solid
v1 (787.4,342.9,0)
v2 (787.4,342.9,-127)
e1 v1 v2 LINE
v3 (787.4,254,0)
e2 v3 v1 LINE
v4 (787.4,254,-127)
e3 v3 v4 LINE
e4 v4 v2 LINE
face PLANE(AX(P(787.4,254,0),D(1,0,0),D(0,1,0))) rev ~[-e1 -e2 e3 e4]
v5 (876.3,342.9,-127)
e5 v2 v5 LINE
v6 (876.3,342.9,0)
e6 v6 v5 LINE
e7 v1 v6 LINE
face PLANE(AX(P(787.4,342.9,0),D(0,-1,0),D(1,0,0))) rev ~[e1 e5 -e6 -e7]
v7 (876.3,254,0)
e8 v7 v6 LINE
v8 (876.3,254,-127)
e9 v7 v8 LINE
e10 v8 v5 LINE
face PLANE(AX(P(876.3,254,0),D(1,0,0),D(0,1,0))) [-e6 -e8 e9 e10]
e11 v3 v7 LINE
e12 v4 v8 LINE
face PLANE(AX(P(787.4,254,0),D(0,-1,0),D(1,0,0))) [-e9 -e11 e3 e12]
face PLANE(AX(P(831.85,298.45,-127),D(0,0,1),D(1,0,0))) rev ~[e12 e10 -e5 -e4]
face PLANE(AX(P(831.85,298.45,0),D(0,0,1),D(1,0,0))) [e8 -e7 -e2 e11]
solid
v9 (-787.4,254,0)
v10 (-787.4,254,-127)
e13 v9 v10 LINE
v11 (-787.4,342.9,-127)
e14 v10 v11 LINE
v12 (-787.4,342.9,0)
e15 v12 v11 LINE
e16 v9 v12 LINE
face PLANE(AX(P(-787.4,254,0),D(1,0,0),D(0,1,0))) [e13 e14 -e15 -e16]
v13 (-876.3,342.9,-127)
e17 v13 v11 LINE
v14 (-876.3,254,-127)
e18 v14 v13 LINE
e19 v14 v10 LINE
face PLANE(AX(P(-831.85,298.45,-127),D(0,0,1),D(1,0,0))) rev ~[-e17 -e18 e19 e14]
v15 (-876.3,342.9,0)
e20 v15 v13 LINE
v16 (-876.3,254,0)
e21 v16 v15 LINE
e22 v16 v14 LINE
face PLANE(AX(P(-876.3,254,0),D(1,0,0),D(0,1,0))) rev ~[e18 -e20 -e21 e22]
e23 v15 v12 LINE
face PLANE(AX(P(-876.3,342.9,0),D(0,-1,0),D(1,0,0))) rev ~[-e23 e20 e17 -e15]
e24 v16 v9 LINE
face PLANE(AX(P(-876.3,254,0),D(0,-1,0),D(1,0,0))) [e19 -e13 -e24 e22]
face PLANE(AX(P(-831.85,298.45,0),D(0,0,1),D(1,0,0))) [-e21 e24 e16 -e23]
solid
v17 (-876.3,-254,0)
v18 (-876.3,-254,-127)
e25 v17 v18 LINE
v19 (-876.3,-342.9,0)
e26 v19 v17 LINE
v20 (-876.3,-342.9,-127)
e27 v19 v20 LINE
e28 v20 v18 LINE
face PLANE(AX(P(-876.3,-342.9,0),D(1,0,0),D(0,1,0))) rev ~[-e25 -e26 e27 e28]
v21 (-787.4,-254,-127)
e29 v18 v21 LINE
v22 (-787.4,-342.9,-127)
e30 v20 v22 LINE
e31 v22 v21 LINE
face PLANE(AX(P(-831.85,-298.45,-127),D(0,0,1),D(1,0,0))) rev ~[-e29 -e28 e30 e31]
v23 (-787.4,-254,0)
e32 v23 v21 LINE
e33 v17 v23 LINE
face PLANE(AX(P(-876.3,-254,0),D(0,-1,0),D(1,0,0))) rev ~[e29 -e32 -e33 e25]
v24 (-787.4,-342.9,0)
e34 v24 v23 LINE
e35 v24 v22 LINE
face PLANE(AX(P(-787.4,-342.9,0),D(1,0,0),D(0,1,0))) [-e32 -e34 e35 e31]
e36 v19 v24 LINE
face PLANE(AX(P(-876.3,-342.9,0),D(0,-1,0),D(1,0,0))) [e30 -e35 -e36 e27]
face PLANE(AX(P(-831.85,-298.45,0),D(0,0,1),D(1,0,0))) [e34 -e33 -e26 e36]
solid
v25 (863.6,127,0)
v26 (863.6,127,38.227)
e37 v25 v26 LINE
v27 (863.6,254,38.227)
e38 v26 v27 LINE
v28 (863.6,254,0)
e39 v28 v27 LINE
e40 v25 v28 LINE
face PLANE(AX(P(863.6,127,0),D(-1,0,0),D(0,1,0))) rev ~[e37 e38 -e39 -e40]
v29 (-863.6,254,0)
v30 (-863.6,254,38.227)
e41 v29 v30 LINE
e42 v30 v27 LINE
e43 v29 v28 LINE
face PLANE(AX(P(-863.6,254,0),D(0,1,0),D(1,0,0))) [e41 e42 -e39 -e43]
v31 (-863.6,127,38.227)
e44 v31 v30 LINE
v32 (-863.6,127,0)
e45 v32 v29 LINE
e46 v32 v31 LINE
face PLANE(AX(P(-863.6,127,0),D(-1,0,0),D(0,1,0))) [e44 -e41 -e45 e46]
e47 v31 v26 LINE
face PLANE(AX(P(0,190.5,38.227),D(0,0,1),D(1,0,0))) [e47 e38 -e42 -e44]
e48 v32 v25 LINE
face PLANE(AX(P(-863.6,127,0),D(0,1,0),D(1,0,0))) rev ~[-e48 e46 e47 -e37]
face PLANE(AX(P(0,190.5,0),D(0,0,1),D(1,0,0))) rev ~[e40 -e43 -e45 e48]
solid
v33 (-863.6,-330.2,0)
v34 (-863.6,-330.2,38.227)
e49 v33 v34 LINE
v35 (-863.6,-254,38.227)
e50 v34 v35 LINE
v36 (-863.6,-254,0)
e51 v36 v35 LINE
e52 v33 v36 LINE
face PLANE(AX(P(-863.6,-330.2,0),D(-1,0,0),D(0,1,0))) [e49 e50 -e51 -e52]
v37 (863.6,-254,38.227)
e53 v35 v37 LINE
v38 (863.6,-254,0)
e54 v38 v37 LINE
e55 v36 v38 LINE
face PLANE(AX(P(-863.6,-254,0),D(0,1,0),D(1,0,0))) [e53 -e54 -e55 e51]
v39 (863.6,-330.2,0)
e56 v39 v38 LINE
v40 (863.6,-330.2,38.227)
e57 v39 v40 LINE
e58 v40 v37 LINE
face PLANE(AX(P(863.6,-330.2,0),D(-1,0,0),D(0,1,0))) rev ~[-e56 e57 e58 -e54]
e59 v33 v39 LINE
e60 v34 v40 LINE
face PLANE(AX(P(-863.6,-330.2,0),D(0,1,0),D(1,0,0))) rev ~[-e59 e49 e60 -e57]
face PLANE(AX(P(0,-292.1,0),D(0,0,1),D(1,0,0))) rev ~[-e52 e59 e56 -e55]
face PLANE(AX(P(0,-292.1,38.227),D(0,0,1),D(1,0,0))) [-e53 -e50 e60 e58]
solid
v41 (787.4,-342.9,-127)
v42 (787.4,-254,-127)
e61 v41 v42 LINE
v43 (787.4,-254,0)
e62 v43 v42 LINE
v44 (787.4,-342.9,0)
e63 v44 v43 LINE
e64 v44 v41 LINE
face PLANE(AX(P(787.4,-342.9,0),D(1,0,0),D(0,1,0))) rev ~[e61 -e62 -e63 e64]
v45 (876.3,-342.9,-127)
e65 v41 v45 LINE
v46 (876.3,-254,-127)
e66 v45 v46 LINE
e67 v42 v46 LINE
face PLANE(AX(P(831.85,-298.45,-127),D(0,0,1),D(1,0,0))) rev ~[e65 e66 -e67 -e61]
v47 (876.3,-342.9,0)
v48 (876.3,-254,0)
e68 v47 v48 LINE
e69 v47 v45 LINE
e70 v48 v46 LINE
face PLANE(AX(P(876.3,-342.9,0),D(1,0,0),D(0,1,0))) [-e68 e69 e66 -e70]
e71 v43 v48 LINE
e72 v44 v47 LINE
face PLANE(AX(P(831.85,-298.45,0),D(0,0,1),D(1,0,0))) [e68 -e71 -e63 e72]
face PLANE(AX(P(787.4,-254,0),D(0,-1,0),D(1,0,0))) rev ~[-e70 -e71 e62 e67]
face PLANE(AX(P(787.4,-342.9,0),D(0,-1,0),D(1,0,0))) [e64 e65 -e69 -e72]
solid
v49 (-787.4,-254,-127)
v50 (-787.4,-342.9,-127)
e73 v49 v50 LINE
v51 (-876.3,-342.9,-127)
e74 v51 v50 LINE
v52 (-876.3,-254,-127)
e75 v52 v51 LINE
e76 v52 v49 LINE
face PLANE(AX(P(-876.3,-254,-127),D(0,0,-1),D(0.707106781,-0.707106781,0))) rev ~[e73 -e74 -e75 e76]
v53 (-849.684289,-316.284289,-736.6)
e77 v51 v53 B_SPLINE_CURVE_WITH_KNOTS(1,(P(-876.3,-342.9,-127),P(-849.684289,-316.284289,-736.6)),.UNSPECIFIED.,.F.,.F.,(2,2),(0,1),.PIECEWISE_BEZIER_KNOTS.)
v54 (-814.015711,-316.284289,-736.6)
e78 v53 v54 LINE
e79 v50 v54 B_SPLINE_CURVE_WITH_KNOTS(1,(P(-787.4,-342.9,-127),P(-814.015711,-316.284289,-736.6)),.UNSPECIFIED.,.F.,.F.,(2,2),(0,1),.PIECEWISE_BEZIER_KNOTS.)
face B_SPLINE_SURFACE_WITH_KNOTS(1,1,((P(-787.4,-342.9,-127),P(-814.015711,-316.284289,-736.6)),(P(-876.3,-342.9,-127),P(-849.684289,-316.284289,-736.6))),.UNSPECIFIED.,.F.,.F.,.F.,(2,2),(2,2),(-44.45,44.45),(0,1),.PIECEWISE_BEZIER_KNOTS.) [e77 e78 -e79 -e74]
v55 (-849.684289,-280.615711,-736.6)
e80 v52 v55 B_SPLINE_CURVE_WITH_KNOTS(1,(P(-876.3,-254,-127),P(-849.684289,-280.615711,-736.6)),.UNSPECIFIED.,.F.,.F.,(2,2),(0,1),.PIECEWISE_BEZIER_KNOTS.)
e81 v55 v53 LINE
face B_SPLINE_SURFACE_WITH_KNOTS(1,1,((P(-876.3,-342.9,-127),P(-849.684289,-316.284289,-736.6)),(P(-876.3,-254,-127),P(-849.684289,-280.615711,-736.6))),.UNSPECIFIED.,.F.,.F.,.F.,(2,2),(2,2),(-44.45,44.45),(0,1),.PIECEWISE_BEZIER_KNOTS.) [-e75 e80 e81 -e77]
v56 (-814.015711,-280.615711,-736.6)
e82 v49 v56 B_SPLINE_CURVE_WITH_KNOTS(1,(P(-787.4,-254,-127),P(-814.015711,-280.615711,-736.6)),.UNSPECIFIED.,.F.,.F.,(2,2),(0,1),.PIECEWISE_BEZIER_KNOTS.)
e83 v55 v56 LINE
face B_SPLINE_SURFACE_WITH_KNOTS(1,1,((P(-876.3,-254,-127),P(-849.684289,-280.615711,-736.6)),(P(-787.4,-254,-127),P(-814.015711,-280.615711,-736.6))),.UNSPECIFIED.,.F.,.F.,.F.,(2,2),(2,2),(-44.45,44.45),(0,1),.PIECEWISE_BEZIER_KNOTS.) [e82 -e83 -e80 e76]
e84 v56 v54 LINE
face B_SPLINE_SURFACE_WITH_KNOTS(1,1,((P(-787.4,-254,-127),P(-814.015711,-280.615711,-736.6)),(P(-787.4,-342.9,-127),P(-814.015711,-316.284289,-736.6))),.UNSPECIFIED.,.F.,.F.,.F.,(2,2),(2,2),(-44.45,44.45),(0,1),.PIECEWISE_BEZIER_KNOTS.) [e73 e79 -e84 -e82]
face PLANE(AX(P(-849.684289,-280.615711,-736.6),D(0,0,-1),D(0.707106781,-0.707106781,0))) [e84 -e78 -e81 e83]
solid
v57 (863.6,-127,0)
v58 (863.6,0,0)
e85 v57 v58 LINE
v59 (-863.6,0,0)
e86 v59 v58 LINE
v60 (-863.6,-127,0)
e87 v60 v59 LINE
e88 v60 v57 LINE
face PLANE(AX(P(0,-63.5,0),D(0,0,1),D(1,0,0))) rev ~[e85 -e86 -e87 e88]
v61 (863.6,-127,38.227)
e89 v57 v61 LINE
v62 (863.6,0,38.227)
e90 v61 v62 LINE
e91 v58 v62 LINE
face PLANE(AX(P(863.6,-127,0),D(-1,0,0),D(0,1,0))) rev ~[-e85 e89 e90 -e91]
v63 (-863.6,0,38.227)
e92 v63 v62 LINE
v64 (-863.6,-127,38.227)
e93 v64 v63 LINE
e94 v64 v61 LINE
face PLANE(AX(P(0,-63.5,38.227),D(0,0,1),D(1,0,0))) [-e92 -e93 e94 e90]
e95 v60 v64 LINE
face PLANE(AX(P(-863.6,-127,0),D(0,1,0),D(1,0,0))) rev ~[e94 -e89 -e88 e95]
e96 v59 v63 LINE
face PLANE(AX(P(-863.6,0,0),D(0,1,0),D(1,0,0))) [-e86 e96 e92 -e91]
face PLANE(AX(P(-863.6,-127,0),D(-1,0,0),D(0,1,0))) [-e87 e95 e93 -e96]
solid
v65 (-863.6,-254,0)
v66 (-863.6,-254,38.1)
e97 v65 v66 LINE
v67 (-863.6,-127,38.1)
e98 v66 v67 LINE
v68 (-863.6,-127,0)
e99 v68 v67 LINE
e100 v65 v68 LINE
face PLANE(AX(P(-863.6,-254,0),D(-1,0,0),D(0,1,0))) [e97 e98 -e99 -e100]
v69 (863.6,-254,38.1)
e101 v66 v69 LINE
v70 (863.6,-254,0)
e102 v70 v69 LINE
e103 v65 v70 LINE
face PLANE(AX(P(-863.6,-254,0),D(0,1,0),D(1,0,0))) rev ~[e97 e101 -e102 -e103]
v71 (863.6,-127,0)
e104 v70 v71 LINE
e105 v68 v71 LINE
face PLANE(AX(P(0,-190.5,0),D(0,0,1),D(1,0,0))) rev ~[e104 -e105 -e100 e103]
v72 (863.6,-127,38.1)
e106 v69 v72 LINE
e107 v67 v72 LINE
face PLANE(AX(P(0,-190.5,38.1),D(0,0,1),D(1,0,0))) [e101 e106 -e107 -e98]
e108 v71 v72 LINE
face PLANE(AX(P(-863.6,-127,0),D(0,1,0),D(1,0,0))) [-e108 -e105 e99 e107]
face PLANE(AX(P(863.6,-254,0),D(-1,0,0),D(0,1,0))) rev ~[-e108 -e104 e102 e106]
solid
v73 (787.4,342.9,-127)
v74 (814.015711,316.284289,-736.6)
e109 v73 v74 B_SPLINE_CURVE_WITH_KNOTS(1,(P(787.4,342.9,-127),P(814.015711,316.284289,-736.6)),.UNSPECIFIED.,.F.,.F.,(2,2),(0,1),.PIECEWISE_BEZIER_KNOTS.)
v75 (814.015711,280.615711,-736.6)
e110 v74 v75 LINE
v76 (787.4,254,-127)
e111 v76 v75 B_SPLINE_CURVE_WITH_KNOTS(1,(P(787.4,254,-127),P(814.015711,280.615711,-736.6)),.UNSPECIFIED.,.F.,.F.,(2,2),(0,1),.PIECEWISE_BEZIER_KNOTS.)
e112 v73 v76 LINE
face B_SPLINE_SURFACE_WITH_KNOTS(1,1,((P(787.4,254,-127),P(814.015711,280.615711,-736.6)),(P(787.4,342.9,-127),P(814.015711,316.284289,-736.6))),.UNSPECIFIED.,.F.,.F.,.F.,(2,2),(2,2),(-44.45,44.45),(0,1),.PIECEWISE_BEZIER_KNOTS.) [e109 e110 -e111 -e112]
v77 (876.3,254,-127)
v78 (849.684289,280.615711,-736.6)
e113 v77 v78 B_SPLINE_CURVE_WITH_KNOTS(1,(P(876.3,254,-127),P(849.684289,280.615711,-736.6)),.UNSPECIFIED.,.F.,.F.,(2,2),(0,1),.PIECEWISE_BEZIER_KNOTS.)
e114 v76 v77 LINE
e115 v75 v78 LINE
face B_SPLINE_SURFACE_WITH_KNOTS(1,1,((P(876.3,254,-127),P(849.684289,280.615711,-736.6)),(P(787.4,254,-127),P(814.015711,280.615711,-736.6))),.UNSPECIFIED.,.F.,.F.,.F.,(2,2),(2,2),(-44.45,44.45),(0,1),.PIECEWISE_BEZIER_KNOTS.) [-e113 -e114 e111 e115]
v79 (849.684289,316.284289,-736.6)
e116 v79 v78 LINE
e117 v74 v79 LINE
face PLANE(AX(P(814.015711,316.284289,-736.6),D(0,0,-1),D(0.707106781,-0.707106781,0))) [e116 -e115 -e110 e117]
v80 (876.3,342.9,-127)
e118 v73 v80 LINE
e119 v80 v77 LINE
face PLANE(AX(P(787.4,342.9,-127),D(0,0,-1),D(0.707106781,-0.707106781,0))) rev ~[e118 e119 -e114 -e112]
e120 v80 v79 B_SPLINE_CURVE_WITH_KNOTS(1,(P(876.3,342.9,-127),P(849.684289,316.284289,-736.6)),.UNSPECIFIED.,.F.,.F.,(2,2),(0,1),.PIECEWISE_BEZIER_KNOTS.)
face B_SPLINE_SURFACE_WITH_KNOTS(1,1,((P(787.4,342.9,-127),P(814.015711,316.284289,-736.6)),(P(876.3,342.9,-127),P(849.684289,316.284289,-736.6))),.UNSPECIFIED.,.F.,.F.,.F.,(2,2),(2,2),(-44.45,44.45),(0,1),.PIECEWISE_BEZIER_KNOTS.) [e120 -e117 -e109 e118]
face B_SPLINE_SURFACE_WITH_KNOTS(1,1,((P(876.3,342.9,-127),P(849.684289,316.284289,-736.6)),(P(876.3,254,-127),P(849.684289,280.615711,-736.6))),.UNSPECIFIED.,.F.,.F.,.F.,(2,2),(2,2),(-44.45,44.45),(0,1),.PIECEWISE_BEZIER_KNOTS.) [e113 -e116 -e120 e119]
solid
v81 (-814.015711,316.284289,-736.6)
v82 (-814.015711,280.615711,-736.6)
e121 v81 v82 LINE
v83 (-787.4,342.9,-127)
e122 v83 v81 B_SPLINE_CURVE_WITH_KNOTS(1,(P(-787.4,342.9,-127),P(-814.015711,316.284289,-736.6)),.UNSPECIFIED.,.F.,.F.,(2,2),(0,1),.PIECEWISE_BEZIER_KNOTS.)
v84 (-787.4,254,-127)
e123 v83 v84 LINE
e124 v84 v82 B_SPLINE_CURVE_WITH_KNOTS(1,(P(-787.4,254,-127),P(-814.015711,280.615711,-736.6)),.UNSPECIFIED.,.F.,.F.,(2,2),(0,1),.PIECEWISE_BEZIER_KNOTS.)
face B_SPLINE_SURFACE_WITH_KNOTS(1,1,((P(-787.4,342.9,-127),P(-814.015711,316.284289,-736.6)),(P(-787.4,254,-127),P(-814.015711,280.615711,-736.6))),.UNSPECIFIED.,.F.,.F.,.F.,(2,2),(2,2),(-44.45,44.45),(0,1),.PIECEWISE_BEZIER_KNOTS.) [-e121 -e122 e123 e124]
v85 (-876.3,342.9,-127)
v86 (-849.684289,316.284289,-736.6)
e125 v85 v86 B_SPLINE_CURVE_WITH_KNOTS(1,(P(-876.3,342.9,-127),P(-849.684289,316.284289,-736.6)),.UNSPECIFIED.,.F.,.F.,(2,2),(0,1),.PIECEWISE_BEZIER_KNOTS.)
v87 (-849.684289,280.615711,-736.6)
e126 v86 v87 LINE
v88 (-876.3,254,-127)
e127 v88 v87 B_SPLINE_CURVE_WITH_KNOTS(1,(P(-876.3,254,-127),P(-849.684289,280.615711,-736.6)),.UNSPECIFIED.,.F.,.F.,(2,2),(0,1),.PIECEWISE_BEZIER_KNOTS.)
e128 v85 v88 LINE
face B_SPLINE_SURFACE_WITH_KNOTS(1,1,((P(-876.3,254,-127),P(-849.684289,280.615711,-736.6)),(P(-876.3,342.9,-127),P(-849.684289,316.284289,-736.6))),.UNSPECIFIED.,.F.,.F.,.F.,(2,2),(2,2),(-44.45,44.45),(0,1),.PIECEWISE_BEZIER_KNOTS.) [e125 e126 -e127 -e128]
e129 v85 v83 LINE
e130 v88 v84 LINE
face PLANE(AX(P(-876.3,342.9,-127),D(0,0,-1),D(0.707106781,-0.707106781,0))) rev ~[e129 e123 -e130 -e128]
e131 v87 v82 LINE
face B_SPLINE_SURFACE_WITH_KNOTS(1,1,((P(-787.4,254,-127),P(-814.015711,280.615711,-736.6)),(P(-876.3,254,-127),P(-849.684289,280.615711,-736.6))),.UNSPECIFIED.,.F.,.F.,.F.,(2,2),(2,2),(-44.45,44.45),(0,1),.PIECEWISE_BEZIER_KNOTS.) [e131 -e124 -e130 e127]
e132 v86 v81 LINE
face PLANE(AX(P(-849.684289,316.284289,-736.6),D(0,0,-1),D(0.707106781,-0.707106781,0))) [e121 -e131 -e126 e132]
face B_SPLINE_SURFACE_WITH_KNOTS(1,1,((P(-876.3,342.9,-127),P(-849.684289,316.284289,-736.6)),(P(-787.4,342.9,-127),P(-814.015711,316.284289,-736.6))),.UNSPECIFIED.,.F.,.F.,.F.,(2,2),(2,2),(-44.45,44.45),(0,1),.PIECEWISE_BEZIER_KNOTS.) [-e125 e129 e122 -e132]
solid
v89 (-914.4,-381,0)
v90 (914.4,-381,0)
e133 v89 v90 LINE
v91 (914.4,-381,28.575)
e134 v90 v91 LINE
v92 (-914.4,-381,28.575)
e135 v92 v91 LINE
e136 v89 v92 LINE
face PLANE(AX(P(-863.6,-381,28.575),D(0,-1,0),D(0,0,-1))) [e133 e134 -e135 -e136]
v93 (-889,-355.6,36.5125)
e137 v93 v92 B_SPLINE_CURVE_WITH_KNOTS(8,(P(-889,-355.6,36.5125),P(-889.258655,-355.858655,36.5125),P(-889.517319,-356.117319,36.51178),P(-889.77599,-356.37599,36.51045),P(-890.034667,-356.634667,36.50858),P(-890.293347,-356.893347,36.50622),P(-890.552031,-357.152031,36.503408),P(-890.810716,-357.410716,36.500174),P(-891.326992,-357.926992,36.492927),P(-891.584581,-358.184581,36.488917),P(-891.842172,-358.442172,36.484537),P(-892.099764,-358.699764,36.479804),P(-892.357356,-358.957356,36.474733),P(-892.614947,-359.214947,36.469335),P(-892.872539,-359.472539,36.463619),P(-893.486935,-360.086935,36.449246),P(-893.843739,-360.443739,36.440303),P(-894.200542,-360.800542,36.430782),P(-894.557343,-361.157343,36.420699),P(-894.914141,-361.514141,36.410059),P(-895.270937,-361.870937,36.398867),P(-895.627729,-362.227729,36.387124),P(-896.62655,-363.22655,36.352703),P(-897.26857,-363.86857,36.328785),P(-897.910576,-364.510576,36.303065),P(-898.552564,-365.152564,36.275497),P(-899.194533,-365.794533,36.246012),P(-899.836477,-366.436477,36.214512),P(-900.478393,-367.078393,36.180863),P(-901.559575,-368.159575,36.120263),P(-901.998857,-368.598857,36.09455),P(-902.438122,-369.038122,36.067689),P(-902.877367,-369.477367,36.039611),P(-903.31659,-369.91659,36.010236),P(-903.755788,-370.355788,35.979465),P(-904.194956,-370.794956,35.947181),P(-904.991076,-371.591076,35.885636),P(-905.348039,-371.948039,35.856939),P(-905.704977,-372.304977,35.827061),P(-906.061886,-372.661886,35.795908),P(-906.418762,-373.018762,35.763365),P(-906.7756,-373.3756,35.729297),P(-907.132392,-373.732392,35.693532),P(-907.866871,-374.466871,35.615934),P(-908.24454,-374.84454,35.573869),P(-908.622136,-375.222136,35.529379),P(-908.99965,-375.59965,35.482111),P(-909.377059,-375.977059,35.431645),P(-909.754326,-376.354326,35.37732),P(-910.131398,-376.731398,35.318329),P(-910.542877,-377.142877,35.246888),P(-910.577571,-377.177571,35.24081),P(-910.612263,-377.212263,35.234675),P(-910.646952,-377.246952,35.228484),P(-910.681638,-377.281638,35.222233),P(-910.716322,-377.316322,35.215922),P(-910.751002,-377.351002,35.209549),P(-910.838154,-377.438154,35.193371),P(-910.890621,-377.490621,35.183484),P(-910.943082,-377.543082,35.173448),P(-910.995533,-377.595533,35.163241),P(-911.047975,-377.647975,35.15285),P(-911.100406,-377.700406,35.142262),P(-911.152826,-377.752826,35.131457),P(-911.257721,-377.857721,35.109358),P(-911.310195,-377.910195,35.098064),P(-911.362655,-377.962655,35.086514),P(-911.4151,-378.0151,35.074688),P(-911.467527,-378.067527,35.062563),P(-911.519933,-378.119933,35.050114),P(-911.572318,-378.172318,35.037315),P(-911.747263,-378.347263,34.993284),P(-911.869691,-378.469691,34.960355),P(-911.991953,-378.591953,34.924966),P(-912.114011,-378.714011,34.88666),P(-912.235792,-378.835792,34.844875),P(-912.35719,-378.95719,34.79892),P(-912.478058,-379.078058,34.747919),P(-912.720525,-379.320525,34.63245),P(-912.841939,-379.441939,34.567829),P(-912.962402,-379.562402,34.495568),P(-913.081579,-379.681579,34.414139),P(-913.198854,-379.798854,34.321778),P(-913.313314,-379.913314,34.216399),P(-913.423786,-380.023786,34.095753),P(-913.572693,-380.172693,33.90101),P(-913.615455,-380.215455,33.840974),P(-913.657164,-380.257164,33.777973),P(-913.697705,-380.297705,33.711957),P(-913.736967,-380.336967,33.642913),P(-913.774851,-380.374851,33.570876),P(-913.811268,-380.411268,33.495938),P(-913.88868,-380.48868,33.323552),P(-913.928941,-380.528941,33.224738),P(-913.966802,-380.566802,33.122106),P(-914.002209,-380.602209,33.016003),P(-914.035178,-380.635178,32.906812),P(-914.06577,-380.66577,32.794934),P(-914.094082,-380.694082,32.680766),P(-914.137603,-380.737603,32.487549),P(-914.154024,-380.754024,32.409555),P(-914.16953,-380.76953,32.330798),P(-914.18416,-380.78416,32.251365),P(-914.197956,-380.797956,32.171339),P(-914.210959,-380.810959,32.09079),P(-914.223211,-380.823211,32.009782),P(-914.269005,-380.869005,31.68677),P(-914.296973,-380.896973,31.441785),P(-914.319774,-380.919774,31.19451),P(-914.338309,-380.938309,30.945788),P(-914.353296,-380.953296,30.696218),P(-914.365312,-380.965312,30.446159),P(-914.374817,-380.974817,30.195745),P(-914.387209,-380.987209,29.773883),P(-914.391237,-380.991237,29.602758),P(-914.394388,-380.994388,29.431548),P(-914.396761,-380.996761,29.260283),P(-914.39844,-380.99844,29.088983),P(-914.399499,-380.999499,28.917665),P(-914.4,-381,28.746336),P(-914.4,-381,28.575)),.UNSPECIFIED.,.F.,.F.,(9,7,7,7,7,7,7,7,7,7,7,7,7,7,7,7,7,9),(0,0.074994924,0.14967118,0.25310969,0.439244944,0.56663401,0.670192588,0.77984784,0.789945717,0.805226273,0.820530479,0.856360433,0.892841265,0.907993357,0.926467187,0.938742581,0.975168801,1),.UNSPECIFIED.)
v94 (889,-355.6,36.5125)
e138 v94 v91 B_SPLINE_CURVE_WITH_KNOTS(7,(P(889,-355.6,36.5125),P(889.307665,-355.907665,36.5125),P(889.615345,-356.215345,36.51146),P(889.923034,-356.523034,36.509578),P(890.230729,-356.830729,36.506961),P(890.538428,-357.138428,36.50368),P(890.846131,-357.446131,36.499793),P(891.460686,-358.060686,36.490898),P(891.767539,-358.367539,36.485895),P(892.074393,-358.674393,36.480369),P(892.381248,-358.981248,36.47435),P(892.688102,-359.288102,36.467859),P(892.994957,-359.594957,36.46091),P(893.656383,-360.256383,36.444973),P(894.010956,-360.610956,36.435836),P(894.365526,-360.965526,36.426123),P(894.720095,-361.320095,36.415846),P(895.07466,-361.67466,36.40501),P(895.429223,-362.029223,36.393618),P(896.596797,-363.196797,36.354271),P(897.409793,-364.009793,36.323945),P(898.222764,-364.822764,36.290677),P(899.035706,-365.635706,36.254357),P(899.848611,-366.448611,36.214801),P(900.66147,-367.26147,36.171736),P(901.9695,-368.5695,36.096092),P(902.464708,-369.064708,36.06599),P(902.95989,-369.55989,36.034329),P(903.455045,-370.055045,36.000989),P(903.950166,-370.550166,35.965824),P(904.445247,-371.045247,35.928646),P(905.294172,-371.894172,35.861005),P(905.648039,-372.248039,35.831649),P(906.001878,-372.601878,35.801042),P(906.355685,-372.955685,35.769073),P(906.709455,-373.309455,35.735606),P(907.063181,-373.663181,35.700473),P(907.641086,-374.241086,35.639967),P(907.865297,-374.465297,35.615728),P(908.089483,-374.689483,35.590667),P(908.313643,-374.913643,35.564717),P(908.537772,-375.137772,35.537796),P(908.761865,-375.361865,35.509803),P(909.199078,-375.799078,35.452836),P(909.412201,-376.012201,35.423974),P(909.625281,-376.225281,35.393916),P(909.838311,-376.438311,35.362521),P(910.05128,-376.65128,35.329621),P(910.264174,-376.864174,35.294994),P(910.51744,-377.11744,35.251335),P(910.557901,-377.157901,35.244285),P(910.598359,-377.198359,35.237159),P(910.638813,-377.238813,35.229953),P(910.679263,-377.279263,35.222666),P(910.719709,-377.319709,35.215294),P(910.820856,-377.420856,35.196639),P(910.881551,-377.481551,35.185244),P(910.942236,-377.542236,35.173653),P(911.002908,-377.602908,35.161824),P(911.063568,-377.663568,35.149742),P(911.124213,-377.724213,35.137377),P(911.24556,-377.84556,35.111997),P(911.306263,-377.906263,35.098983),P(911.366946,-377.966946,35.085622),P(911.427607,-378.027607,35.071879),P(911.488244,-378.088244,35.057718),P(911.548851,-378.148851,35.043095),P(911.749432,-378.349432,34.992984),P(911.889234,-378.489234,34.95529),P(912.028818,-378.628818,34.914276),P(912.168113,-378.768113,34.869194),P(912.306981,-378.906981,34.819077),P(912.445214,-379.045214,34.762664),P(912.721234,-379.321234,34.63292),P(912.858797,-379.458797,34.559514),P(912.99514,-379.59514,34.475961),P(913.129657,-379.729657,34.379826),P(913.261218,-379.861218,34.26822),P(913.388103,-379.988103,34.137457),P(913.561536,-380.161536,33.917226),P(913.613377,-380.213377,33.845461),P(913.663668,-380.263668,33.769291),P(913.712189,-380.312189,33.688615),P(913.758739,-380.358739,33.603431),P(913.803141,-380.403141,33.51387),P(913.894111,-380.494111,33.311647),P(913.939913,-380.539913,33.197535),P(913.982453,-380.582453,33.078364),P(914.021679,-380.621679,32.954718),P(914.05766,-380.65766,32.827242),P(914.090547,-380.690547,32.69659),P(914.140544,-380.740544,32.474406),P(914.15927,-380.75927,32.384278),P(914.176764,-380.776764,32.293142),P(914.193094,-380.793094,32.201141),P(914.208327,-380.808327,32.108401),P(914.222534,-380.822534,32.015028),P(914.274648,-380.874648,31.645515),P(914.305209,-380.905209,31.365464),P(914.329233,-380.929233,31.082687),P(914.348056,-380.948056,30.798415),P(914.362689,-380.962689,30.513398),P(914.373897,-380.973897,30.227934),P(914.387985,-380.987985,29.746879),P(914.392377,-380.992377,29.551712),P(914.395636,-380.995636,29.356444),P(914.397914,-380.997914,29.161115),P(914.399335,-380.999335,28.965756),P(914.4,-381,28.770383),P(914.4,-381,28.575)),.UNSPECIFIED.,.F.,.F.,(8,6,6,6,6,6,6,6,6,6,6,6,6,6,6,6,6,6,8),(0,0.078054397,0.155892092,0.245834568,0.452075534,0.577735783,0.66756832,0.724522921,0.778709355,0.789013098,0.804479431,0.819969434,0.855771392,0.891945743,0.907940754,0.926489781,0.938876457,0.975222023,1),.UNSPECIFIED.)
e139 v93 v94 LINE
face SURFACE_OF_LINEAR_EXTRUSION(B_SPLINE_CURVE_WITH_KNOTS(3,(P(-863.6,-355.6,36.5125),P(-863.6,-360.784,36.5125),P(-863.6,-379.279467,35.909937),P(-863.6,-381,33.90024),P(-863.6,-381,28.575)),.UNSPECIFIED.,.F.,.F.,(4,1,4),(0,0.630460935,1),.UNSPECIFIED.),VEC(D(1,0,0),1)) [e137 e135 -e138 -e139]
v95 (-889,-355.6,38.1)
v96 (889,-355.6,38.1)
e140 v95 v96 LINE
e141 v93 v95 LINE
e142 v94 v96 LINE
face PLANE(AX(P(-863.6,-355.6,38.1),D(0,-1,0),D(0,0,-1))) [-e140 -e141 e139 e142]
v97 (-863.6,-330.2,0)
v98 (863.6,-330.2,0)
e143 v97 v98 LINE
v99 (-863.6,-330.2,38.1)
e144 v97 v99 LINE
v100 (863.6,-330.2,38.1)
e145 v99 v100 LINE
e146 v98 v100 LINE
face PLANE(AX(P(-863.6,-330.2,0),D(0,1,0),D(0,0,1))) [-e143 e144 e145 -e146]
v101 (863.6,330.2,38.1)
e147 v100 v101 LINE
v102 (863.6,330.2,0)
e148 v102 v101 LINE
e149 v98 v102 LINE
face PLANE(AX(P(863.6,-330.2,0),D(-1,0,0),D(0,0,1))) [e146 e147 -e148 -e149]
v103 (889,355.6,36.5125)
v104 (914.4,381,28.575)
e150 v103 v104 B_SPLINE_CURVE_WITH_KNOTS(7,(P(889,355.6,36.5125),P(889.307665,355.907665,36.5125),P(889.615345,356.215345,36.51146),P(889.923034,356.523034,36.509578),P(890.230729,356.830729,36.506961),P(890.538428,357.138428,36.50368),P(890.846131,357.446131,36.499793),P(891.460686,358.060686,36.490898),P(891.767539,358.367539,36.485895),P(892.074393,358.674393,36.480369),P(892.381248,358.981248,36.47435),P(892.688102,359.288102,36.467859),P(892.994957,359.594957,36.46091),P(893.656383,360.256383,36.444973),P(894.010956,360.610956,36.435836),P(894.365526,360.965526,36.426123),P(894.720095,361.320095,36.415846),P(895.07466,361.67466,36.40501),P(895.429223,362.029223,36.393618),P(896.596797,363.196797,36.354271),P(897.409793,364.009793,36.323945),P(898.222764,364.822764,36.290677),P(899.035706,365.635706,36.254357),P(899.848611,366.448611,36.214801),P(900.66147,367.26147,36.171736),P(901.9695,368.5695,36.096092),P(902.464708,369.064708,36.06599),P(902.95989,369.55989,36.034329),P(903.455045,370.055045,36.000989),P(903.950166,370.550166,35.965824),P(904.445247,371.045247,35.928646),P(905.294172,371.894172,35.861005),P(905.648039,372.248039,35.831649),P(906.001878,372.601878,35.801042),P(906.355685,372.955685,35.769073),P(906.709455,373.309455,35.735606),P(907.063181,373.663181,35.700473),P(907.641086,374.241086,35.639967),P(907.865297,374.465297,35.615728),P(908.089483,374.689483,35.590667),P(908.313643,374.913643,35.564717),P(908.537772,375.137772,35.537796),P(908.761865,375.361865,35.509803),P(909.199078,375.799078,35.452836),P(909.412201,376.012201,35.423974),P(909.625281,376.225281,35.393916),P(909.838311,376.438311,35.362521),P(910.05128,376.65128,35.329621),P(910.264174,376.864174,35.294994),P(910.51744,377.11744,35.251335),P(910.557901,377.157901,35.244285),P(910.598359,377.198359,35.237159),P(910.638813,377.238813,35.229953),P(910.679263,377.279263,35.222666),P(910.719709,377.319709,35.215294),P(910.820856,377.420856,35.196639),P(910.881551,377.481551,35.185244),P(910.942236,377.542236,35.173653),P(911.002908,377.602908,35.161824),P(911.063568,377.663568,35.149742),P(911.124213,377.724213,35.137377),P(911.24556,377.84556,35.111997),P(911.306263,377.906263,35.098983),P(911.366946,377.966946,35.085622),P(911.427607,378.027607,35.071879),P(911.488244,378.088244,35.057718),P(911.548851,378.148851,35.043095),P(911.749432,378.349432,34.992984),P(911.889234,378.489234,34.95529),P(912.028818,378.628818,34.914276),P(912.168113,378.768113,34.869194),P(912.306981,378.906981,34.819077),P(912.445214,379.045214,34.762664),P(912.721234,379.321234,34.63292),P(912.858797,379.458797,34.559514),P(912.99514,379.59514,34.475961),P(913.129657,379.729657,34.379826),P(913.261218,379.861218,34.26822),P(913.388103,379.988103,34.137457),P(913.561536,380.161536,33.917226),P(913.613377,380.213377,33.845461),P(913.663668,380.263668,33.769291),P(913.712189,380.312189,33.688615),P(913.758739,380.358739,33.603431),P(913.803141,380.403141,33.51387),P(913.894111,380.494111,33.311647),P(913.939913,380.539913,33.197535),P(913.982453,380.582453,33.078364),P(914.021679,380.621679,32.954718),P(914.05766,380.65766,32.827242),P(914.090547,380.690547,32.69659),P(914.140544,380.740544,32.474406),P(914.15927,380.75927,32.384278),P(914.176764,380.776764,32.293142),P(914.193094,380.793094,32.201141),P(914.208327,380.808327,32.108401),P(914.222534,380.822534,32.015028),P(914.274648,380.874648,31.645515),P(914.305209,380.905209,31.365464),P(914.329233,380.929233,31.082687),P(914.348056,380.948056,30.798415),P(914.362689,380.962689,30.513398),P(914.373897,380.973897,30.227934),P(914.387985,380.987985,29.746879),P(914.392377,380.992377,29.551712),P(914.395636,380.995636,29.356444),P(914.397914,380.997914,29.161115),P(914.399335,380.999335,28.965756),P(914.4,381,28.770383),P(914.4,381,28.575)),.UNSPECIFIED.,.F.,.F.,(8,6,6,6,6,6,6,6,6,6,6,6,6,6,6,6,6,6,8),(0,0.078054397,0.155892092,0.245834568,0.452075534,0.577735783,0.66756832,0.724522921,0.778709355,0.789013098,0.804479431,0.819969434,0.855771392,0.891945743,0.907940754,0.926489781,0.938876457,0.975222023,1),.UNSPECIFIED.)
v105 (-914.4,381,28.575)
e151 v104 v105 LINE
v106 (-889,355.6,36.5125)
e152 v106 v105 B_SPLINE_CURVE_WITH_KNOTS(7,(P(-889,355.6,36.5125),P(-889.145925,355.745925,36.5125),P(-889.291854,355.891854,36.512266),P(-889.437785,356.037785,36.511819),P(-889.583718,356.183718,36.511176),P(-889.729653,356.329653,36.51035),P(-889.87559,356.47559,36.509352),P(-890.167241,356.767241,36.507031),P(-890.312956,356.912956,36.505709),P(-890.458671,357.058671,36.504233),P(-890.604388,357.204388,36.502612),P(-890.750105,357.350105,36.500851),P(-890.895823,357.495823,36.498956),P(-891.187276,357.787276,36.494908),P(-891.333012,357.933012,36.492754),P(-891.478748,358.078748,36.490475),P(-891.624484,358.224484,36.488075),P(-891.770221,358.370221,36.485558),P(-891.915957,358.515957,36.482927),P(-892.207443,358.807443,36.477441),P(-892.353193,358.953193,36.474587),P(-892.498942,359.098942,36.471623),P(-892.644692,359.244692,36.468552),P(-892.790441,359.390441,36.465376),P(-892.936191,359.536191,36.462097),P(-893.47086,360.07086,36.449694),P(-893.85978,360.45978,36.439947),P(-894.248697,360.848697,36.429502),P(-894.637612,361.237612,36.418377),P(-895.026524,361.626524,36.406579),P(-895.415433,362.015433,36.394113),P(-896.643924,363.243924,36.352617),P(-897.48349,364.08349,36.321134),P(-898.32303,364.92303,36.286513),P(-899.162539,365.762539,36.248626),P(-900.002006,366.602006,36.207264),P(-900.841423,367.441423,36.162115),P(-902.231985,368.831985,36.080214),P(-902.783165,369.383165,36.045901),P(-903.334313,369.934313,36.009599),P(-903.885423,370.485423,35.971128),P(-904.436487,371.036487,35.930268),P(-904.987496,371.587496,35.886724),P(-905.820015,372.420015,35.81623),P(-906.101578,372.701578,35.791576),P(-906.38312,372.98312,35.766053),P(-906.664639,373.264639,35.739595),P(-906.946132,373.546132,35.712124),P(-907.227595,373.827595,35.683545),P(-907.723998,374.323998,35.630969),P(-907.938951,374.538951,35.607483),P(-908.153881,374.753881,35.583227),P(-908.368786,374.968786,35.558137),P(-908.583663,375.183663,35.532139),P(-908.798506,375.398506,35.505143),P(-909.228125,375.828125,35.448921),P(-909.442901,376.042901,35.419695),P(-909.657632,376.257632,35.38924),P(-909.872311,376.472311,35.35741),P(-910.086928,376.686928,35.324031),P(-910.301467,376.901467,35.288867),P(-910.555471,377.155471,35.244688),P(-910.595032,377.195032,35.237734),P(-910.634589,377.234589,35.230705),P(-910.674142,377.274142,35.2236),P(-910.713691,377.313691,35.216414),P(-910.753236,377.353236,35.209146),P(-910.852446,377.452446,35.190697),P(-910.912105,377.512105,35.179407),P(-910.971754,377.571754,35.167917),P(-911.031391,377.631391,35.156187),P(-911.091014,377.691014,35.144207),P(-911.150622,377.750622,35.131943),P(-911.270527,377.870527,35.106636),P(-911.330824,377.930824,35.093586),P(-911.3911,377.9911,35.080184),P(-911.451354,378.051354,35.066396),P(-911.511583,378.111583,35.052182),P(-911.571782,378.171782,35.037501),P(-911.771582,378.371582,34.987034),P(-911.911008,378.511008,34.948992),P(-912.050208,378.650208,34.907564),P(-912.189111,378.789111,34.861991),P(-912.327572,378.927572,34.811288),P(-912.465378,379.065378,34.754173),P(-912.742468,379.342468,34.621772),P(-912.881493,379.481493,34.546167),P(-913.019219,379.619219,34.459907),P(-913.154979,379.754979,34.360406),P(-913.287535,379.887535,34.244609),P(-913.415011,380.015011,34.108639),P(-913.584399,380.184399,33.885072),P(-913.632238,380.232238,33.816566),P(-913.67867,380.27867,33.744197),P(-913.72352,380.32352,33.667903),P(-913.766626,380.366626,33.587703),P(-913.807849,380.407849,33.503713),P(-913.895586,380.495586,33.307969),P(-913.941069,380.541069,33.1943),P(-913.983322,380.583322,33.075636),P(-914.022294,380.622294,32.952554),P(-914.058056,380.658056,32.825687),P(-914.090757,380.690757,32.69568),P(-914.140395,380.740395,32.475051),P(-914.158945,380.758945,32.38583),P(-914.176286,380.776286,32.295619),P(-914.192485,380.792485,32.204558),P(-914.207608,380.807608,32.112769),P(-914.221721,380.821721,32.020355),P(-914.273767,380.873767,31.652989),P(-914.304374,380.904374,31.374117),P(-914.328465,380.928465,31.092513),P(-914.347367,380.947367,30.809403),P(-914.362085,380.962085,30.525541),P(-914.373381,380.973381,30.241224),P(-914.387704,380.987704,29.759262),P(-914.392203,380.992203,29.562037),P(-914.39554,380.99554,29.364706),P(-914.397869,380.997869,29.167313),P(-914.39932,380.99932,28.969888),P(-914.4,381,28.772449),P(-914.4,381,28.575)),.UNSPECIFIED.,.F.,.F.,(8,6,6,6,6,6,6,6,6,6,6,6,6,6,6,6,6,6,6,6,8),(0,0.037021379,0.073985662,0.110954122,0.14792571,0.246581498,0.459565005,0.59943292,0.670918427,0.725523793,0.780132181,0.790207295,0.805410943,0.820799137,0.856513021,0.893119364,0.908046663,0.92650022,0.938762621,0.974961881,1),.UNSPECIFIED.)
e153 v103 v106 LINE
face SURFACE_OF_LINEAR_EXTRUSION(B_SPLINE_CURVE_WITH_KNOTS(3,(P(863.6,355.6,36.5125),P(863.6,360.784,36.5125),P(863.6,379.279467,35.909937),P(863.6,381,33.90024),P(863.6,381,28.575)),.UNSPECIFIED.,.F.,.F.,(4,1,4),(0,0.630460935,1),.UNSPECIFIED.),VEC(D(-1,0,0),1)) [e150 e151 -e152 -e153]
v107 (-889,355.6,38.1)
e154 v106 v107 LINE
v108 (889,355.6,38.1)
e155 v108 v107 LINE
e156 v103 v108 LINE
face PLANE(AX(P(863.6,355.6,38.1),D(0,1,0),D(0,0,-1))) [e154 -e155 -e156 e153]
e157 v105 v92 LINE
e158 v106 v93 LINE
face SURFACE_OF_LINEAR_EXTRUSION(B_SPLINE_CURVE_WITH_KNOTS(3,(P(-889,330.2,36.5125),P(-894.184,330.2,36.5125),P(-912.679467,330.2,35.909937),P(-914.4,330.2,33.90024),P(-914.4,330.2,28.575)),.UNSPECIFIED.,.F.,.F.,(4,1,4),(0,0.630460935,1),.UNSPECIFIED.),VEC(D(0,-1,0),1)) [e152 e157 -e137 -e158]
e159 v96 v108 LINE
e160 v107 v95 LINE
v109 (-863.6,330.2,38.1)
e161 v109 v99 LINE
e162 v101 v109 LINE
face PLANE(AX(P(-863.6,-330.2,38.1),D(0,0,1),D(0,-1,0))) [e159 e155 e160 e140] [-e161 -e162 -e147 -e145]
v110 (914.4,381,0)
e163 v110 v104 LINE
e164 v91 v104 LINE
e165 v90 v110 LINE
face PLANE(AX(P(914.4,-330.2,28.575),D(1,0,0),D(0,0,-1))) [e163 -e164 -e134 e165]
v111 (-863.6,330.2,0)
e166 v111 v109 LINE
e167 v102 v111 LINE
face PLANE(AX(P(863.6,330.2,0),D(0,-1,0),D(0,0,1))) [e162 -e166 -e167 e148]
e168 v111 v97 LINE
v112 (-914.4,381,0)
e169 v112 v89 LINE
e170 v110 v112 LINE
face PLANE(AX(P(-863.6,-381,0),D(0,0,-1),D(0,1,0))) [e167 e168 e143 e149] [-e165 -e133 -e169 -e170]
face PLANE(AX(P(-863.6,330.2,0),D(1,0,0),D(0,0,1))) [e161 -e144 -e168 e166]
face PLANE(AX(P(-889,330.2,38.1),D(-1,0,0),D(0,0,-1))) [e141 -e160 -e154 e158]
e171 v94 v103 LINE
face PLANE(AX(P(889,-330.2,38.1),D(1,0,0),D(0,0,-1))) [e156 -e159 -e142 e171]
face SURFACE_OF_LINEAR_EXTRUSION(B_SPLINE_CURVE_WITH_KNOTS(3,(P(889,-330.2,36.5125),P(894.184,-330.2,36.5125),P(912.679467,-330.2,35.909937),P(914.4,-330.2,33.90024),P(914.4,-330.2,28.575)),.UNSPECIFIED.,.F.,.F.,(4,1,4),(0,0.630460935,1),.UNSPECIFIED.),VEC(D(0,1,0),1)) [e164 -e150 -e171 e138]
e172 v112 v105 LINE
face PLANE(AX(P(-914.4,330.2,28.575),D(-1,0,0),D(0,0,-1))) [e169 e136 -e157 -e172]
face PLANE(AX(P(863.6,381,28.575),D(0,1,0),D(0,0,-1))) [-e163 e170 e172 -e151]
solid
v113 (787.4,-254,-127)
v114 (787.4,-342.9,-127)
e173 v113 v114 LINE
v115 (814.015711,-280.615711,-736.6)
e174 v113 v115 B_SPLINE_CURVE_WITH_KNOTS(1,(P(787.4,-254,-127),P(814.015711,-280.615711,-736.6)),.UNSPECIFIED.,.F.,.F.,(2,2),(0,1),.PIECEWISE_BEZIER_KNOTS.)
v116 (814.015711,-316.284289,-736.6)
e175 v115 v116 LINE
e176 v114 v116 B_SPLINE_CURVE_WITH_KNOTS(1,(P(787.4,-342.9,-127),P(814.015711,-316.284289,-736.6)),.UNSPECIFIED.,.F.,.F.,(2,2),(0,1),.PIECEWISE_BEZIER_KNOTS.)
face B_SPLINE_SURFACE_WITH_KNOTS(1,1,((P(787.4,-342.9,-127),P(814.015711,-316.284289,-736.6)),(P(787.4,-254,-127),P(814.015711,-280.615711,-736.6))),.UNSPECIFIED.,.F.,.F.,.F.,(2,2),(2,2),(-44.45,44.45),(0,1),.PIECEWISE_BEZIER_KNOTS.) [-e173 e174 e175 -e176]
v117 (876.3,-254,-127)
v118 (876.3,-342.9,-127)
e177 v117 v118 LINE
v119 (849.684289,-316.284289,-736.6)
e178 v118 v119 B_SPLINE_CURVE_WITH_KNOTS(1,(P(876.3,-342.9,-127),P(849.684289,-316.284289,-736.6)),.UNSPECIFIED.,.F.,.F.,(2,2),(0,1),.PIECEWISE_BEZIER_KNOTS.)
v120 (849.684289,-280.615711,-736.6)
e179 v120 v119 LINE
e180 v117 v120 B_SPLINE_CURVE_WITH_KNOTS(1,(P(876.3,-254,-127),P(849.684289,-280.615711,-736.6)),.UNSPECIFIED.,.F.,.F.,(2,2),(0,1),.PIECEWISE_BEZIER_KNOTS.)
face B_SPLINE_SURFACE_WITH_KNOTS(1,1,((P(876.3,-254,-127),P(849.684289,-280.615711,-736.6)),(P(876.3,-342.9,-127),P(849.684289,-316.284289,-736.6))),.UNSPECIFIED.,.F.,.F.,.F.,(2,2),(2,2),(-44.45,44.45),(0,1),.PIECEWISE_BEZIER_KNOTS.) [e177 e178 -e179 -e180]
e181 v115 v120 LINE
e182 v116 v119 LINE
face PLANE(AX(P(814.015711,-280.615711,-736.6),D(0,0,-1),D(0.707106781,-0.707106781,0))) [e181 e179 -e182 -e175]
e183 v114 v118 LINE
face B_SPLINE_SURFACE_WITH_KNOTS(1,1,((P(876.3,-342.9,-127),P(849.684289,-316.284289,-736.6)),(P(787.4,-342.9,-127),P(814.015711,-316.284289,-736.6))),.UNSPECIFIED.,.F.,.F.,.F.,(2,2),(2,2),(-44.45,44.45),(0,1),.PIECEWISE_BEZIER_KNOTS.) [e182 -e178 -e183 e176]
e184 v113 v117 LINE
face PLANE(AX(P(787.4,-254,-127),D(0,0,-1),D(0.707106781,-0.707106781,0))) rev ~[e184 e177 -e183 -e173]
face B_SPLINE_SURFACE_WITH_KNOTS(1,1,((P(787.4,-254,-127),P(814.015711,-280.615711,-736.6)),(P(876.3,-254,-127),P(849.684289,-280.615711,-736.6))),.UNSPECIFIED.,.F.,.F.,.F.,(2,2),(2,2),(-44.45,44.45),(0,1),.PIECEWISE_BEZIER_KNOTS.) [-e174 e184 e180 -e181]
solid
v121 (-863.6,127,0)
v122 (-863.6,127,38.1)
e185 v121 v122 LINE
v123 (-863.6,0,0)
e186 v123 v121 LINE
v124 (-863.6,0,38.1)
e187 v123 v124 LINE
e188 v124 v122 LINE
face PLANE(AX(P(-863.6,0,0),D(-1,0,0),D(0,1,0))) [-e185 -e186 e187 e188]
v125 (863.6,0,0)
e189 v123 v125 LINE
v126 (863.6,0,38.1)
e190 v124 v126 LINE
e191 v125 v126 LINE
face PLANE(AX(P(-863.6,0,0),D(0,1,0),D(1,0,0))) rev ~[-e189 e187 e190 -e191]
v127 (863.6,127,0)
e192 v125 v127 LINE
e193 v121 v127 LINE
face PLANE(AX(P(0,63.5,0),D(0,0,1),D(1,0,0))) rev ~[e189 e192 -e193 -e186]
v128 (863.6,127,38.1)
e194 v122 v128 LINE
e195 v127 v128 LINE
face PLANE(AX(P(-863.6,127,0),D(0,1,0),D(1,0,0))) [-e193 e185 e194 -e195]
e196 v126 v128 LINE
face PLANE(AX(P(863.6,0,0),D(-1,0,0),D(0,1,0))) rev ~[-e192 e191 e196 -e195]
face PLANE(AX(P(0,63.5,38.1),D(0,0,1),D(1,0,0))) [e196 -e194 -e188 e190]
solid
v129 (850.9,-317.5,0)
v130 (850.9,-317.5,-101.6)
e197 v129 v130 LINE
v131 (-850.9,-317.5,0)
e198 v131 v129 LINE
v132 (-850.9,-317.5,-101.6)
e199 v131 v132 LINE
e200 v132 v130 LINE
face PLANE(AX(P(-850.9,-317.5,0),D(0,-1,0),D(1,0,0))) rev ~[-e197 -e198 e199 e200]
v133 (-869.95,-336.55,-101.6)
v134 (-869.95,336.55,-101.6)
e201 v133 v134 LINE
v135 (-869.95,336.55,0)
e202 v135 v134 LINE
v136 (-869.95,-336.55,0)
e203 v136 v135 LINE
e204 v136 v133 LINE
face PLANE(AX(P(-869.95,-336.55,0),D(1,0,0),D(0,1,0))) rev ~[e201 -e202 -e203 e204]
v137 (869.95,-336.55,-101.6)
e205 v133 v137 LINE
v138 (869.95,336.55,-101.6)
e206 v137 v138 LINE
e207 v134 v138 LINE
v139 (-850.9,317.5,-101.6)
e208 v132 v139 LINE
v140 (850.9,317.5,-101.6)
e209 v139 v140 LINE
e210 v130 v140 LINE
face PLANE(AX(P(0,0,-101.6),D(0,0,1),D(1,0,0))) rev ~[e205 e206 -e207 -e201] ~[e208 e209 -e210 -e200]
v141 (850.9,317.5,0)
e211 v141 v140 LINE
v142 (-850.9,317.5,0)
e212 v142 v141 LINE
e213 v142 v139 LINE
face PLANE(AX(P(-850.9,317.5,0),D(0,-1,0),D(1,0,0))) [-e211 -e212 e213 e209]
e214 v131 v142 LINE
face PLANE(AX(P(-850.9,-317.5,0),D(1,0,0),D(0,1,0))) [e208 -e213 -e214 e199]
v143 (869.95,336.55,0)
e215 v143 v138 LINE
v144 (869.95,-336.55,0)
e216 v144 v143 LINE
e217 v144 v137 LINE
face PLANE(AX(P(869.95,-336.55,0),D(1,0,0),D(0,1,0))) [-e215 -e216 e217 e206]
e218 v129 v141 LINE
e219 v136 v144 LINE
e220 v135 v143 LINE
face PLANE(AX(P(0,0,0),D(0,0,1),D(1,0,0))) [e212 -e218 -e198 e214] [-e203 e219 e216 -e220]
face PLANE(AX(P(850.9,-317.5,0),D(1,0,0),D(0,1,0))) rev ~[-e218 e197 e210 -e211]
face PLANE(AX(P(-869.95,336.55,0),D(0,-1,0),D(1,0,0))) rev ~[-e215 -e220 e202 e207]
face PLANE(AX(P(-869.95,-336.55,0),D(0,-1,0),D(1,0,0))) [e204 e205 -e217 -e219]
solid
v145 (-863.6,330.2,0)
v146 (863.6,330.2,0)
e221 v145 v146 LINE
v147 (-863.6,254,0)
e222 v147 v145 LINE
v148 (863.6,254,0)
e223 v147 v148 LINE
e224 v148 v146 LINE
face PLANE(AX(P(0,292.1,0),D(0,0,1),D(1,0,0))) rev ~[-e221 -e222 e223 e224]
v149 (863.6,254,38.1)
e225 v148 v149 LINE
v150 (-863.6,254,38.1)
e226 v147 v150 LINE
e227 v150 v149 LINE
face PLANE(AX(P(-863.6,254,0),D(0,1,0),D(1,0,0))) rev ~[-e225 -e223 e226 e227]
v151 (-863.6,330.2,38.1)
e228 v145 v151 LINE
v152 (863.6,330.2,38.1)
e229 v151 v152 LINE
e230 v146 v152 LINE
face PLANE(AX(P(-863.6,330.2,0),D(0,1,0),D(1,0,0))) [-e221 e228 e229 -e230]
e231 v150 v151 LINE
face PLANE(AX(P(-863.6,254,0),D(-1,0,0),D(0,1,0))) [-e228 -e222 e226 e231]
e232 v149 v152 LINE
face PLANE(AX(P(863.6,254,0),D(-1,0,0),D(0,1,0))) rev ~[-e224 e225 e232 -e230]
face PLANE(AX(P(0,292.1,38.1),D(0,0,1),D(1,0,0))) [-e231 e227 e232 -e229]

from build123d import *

# Parameters (mm, degrees)
F0_W      = 1727.2
F0_H      = 76.2
F1_DEPTH  = 38.1
F0_H_2    = 127
F2_DEPTH  = 38.227
F5_W      = 88.9
F5_H      = 88.9
F6_DEPTH  = 127
F7_W      = 1739.9
F7_H      = 673.1
F7_W_2    = 1701.8
F7_H_2    = 635
F8_DEPTH  = 101.6
F9_W      = 88.9
F9_H      = 88.9
F10_DEPTH = 609.6
F10_TAPER = 2.5


with BuildPart() as f1:
    # F0 (on Top) → F1 (new body)
    with BuildSketch(Plane.XY):
        with Locations((0, 292.1)):
            Rectangle(F0_W, F0_H)
    extrude(amount=F1_DEPTH)


with BuildPart() as f1b:
    # F0 (on Top) → F1, piece 2 (new body)
    with BuildSketch(Plane.XY):
        with Locations((0, 63.5)):
            Rectangle(F0_W, F0_H_2)
    extrude(amount=F1_DEPTH)


with BuildPart() as f1c:
    # F0 (on Top) → F1, piece 3 (new body)
    with BuildSketch(Plane.XY):
        with Locations((0, -190.5)):
            Rectangle(F0_W, F0_H_2)
    extrude(amount=F1_DEPTH)


with BuildPart() as f2:
    # F0 (on Top) → F2 (new body)
    with BuildSketch(Plane.XY):
        with Locations((0, 190.5)):
            Rectangle(F0_W, F0_H_2)
    extrude(amount=F2_DEPTH)


with BuildPart() as f2b:
    # F0 (on Top) → F2, piece 2 (new body)
    with BuildSketch(Plane.XY):
        with Locations((0, -63.5)):
            Rectangle(F0_W, F0_H_2)
    extrude(amount=F2_DEPTH)


with BuildPart() as f2c:
    # F0 (on Top) → F2, piece 3 (new body)
    with BuildSketch(Plane.XY):
        with Locations((0, -292.1)):
            Rectangle(F0_W, F0_H)
    extrude(amount=F2_DEPTH)


with BuildPart() as f4:
    # F4: sweep along a path in F0
    with BuildLine(Plane.XY) as f4_path:
        Line((-863.6, -330.2), (863.6, -330.2))
        Line((863.6, -330.2), (863.6, 330.2))
        Line((863.6, 330.2), (-863.6, 330.2))
        Line((-863.6, 330.2), (-863.6, -330.2))
    # F3 (on Right) → F4 (sweep)
    with BuildSketch(Plane.YZ):
        with BuildLine():
            Line((-381, 0), (-330.2, 0))
            Line((-330.2, 0), (-330.2, 38.1))
            Line((-330.2, 38.1), (-355.6, 38.1))
            Line((-355.6, 38.1), (-355.6, 36.5125))
            add(Edge.make_bspline(
                [(-355.6, 36.5125), (-360.7839997933, 36.5125), (-379.2794668616, 35.9099371042), (-381, 33.9002396899), (-381, 28.575)],
                knots=[0, 0, 0, 0, 0.6304609347, 1, 1, 1, 1], degree=3))
            Line((-381, 28.575), (-381, 0))
        make_face()
    sweep(path=f4_path.line, transition=Transition.RIGHT)


with BuildPart() as f6:
    # F5 (on Top) → F6 (new body)
    with BuildSketch(Plane.XY):
        with Locations((-831.85, -298.45)):
            Rectangle(F5_W, F5_H)
    extrude(amount=-F6_DEPTH)


with BuildPart() as f6b:
    # F5 (on Top) → F6, piece 2 (new body)
    with BuildSketch(Plane.XY):
        with Locations((831.85, -298.45)):
            Rectangle(F5_W, F5_H)
    extrude(amount=-F6_DEPTH)


with BuildPart() as f6c:
    # F5 (on Top) → F6, piece 3 (new body)
    with BuildSketch(Plane.XY):
        with Locations((831.85, 298.45)):
            Rectangle(F5_W, F5_H)
    extrude(amount=-F6_DEPTH)


with BuildPart() as f6d:
    # F5 (on Top) → F6, piece 4 (new body)
    with BuildSketch(Plane.XY):
        with Locations((-831.85, 298.45)):
            Rectangle(F5_W, F5_H)
    extrude(amount=-F6_DEPTH)


with BuildPart() as f8:
    # F7 (on Top) → F8 (new body)
    with BuildSketch(Plane.XY):
        Rectangle(F7_W, F7_H)
        Rectangle(F7_W_2, F7_H_2, mode=Mode.SUBTRACT)
    extrude(amount=-F8_DEPTH)


with BuildPart() as f10:
    # F9 (on face) → F10 (new body)
    with BuildSketch(Plane(origin=(0, 0, -127), x_dir=(1, 0, 0), z_dir=(0, 0, -1))):
        with Locations((-831.85, 298.45)):
            Rectangle(F9_W, F9_H)
    extrude(amount=F10_DEPTH, taper=F10_TAPER)


with BuildPart() as f10b:
    # F9 (on face) → F10, piece 2 (new body)
    with BuildSketch(Plane(origin=(0, 0, -127), x_dir=(1, 0, 0), z_dir=(0, 0, -1))):
        with Locations((831.85, 298.45)):
            Rectangle(F9_W, F9_H)
    extrude(amount=F10_DEPTH, taper=F10_TAPER)


with BuildPart() as f10c:
    # F9 (on face) → F10, piece 3 (new body)
    with BuildSketch(Plane(origin=(0, 0, -127), x_dir=(1, 0, 0), z_dir=(0, 0, -1))):
        with Locations((831.85, -298.45)):
            Rectangle(F9_W, F9_H)
    extrude(amount=F10_DEPTH, taper=F10_TAPER)


with BuildPart() as f10d:
    # F9 (on face) → F10, piece 4 (new body)
    with BuildSketch(Plane(origin=(0, 0, -127), x_dir=(1, 0, 0), z_dir=(0, 0, -1))):
        with Locations((-831.85, -298.45)):
            Rectangle(F9_W, F9_H)
    extrude(amount=F10_DEPTH, taper=F10_TAPER)


solid = Compound([f1.part, f1b.part, f1c.part, f2.part, f2b.part, f2c.part, f4.part, f6.part, f6b.part, f6c.part, f6d.part, f8.part, f10.part, f10b.part, f10c.part, f10d.part])
